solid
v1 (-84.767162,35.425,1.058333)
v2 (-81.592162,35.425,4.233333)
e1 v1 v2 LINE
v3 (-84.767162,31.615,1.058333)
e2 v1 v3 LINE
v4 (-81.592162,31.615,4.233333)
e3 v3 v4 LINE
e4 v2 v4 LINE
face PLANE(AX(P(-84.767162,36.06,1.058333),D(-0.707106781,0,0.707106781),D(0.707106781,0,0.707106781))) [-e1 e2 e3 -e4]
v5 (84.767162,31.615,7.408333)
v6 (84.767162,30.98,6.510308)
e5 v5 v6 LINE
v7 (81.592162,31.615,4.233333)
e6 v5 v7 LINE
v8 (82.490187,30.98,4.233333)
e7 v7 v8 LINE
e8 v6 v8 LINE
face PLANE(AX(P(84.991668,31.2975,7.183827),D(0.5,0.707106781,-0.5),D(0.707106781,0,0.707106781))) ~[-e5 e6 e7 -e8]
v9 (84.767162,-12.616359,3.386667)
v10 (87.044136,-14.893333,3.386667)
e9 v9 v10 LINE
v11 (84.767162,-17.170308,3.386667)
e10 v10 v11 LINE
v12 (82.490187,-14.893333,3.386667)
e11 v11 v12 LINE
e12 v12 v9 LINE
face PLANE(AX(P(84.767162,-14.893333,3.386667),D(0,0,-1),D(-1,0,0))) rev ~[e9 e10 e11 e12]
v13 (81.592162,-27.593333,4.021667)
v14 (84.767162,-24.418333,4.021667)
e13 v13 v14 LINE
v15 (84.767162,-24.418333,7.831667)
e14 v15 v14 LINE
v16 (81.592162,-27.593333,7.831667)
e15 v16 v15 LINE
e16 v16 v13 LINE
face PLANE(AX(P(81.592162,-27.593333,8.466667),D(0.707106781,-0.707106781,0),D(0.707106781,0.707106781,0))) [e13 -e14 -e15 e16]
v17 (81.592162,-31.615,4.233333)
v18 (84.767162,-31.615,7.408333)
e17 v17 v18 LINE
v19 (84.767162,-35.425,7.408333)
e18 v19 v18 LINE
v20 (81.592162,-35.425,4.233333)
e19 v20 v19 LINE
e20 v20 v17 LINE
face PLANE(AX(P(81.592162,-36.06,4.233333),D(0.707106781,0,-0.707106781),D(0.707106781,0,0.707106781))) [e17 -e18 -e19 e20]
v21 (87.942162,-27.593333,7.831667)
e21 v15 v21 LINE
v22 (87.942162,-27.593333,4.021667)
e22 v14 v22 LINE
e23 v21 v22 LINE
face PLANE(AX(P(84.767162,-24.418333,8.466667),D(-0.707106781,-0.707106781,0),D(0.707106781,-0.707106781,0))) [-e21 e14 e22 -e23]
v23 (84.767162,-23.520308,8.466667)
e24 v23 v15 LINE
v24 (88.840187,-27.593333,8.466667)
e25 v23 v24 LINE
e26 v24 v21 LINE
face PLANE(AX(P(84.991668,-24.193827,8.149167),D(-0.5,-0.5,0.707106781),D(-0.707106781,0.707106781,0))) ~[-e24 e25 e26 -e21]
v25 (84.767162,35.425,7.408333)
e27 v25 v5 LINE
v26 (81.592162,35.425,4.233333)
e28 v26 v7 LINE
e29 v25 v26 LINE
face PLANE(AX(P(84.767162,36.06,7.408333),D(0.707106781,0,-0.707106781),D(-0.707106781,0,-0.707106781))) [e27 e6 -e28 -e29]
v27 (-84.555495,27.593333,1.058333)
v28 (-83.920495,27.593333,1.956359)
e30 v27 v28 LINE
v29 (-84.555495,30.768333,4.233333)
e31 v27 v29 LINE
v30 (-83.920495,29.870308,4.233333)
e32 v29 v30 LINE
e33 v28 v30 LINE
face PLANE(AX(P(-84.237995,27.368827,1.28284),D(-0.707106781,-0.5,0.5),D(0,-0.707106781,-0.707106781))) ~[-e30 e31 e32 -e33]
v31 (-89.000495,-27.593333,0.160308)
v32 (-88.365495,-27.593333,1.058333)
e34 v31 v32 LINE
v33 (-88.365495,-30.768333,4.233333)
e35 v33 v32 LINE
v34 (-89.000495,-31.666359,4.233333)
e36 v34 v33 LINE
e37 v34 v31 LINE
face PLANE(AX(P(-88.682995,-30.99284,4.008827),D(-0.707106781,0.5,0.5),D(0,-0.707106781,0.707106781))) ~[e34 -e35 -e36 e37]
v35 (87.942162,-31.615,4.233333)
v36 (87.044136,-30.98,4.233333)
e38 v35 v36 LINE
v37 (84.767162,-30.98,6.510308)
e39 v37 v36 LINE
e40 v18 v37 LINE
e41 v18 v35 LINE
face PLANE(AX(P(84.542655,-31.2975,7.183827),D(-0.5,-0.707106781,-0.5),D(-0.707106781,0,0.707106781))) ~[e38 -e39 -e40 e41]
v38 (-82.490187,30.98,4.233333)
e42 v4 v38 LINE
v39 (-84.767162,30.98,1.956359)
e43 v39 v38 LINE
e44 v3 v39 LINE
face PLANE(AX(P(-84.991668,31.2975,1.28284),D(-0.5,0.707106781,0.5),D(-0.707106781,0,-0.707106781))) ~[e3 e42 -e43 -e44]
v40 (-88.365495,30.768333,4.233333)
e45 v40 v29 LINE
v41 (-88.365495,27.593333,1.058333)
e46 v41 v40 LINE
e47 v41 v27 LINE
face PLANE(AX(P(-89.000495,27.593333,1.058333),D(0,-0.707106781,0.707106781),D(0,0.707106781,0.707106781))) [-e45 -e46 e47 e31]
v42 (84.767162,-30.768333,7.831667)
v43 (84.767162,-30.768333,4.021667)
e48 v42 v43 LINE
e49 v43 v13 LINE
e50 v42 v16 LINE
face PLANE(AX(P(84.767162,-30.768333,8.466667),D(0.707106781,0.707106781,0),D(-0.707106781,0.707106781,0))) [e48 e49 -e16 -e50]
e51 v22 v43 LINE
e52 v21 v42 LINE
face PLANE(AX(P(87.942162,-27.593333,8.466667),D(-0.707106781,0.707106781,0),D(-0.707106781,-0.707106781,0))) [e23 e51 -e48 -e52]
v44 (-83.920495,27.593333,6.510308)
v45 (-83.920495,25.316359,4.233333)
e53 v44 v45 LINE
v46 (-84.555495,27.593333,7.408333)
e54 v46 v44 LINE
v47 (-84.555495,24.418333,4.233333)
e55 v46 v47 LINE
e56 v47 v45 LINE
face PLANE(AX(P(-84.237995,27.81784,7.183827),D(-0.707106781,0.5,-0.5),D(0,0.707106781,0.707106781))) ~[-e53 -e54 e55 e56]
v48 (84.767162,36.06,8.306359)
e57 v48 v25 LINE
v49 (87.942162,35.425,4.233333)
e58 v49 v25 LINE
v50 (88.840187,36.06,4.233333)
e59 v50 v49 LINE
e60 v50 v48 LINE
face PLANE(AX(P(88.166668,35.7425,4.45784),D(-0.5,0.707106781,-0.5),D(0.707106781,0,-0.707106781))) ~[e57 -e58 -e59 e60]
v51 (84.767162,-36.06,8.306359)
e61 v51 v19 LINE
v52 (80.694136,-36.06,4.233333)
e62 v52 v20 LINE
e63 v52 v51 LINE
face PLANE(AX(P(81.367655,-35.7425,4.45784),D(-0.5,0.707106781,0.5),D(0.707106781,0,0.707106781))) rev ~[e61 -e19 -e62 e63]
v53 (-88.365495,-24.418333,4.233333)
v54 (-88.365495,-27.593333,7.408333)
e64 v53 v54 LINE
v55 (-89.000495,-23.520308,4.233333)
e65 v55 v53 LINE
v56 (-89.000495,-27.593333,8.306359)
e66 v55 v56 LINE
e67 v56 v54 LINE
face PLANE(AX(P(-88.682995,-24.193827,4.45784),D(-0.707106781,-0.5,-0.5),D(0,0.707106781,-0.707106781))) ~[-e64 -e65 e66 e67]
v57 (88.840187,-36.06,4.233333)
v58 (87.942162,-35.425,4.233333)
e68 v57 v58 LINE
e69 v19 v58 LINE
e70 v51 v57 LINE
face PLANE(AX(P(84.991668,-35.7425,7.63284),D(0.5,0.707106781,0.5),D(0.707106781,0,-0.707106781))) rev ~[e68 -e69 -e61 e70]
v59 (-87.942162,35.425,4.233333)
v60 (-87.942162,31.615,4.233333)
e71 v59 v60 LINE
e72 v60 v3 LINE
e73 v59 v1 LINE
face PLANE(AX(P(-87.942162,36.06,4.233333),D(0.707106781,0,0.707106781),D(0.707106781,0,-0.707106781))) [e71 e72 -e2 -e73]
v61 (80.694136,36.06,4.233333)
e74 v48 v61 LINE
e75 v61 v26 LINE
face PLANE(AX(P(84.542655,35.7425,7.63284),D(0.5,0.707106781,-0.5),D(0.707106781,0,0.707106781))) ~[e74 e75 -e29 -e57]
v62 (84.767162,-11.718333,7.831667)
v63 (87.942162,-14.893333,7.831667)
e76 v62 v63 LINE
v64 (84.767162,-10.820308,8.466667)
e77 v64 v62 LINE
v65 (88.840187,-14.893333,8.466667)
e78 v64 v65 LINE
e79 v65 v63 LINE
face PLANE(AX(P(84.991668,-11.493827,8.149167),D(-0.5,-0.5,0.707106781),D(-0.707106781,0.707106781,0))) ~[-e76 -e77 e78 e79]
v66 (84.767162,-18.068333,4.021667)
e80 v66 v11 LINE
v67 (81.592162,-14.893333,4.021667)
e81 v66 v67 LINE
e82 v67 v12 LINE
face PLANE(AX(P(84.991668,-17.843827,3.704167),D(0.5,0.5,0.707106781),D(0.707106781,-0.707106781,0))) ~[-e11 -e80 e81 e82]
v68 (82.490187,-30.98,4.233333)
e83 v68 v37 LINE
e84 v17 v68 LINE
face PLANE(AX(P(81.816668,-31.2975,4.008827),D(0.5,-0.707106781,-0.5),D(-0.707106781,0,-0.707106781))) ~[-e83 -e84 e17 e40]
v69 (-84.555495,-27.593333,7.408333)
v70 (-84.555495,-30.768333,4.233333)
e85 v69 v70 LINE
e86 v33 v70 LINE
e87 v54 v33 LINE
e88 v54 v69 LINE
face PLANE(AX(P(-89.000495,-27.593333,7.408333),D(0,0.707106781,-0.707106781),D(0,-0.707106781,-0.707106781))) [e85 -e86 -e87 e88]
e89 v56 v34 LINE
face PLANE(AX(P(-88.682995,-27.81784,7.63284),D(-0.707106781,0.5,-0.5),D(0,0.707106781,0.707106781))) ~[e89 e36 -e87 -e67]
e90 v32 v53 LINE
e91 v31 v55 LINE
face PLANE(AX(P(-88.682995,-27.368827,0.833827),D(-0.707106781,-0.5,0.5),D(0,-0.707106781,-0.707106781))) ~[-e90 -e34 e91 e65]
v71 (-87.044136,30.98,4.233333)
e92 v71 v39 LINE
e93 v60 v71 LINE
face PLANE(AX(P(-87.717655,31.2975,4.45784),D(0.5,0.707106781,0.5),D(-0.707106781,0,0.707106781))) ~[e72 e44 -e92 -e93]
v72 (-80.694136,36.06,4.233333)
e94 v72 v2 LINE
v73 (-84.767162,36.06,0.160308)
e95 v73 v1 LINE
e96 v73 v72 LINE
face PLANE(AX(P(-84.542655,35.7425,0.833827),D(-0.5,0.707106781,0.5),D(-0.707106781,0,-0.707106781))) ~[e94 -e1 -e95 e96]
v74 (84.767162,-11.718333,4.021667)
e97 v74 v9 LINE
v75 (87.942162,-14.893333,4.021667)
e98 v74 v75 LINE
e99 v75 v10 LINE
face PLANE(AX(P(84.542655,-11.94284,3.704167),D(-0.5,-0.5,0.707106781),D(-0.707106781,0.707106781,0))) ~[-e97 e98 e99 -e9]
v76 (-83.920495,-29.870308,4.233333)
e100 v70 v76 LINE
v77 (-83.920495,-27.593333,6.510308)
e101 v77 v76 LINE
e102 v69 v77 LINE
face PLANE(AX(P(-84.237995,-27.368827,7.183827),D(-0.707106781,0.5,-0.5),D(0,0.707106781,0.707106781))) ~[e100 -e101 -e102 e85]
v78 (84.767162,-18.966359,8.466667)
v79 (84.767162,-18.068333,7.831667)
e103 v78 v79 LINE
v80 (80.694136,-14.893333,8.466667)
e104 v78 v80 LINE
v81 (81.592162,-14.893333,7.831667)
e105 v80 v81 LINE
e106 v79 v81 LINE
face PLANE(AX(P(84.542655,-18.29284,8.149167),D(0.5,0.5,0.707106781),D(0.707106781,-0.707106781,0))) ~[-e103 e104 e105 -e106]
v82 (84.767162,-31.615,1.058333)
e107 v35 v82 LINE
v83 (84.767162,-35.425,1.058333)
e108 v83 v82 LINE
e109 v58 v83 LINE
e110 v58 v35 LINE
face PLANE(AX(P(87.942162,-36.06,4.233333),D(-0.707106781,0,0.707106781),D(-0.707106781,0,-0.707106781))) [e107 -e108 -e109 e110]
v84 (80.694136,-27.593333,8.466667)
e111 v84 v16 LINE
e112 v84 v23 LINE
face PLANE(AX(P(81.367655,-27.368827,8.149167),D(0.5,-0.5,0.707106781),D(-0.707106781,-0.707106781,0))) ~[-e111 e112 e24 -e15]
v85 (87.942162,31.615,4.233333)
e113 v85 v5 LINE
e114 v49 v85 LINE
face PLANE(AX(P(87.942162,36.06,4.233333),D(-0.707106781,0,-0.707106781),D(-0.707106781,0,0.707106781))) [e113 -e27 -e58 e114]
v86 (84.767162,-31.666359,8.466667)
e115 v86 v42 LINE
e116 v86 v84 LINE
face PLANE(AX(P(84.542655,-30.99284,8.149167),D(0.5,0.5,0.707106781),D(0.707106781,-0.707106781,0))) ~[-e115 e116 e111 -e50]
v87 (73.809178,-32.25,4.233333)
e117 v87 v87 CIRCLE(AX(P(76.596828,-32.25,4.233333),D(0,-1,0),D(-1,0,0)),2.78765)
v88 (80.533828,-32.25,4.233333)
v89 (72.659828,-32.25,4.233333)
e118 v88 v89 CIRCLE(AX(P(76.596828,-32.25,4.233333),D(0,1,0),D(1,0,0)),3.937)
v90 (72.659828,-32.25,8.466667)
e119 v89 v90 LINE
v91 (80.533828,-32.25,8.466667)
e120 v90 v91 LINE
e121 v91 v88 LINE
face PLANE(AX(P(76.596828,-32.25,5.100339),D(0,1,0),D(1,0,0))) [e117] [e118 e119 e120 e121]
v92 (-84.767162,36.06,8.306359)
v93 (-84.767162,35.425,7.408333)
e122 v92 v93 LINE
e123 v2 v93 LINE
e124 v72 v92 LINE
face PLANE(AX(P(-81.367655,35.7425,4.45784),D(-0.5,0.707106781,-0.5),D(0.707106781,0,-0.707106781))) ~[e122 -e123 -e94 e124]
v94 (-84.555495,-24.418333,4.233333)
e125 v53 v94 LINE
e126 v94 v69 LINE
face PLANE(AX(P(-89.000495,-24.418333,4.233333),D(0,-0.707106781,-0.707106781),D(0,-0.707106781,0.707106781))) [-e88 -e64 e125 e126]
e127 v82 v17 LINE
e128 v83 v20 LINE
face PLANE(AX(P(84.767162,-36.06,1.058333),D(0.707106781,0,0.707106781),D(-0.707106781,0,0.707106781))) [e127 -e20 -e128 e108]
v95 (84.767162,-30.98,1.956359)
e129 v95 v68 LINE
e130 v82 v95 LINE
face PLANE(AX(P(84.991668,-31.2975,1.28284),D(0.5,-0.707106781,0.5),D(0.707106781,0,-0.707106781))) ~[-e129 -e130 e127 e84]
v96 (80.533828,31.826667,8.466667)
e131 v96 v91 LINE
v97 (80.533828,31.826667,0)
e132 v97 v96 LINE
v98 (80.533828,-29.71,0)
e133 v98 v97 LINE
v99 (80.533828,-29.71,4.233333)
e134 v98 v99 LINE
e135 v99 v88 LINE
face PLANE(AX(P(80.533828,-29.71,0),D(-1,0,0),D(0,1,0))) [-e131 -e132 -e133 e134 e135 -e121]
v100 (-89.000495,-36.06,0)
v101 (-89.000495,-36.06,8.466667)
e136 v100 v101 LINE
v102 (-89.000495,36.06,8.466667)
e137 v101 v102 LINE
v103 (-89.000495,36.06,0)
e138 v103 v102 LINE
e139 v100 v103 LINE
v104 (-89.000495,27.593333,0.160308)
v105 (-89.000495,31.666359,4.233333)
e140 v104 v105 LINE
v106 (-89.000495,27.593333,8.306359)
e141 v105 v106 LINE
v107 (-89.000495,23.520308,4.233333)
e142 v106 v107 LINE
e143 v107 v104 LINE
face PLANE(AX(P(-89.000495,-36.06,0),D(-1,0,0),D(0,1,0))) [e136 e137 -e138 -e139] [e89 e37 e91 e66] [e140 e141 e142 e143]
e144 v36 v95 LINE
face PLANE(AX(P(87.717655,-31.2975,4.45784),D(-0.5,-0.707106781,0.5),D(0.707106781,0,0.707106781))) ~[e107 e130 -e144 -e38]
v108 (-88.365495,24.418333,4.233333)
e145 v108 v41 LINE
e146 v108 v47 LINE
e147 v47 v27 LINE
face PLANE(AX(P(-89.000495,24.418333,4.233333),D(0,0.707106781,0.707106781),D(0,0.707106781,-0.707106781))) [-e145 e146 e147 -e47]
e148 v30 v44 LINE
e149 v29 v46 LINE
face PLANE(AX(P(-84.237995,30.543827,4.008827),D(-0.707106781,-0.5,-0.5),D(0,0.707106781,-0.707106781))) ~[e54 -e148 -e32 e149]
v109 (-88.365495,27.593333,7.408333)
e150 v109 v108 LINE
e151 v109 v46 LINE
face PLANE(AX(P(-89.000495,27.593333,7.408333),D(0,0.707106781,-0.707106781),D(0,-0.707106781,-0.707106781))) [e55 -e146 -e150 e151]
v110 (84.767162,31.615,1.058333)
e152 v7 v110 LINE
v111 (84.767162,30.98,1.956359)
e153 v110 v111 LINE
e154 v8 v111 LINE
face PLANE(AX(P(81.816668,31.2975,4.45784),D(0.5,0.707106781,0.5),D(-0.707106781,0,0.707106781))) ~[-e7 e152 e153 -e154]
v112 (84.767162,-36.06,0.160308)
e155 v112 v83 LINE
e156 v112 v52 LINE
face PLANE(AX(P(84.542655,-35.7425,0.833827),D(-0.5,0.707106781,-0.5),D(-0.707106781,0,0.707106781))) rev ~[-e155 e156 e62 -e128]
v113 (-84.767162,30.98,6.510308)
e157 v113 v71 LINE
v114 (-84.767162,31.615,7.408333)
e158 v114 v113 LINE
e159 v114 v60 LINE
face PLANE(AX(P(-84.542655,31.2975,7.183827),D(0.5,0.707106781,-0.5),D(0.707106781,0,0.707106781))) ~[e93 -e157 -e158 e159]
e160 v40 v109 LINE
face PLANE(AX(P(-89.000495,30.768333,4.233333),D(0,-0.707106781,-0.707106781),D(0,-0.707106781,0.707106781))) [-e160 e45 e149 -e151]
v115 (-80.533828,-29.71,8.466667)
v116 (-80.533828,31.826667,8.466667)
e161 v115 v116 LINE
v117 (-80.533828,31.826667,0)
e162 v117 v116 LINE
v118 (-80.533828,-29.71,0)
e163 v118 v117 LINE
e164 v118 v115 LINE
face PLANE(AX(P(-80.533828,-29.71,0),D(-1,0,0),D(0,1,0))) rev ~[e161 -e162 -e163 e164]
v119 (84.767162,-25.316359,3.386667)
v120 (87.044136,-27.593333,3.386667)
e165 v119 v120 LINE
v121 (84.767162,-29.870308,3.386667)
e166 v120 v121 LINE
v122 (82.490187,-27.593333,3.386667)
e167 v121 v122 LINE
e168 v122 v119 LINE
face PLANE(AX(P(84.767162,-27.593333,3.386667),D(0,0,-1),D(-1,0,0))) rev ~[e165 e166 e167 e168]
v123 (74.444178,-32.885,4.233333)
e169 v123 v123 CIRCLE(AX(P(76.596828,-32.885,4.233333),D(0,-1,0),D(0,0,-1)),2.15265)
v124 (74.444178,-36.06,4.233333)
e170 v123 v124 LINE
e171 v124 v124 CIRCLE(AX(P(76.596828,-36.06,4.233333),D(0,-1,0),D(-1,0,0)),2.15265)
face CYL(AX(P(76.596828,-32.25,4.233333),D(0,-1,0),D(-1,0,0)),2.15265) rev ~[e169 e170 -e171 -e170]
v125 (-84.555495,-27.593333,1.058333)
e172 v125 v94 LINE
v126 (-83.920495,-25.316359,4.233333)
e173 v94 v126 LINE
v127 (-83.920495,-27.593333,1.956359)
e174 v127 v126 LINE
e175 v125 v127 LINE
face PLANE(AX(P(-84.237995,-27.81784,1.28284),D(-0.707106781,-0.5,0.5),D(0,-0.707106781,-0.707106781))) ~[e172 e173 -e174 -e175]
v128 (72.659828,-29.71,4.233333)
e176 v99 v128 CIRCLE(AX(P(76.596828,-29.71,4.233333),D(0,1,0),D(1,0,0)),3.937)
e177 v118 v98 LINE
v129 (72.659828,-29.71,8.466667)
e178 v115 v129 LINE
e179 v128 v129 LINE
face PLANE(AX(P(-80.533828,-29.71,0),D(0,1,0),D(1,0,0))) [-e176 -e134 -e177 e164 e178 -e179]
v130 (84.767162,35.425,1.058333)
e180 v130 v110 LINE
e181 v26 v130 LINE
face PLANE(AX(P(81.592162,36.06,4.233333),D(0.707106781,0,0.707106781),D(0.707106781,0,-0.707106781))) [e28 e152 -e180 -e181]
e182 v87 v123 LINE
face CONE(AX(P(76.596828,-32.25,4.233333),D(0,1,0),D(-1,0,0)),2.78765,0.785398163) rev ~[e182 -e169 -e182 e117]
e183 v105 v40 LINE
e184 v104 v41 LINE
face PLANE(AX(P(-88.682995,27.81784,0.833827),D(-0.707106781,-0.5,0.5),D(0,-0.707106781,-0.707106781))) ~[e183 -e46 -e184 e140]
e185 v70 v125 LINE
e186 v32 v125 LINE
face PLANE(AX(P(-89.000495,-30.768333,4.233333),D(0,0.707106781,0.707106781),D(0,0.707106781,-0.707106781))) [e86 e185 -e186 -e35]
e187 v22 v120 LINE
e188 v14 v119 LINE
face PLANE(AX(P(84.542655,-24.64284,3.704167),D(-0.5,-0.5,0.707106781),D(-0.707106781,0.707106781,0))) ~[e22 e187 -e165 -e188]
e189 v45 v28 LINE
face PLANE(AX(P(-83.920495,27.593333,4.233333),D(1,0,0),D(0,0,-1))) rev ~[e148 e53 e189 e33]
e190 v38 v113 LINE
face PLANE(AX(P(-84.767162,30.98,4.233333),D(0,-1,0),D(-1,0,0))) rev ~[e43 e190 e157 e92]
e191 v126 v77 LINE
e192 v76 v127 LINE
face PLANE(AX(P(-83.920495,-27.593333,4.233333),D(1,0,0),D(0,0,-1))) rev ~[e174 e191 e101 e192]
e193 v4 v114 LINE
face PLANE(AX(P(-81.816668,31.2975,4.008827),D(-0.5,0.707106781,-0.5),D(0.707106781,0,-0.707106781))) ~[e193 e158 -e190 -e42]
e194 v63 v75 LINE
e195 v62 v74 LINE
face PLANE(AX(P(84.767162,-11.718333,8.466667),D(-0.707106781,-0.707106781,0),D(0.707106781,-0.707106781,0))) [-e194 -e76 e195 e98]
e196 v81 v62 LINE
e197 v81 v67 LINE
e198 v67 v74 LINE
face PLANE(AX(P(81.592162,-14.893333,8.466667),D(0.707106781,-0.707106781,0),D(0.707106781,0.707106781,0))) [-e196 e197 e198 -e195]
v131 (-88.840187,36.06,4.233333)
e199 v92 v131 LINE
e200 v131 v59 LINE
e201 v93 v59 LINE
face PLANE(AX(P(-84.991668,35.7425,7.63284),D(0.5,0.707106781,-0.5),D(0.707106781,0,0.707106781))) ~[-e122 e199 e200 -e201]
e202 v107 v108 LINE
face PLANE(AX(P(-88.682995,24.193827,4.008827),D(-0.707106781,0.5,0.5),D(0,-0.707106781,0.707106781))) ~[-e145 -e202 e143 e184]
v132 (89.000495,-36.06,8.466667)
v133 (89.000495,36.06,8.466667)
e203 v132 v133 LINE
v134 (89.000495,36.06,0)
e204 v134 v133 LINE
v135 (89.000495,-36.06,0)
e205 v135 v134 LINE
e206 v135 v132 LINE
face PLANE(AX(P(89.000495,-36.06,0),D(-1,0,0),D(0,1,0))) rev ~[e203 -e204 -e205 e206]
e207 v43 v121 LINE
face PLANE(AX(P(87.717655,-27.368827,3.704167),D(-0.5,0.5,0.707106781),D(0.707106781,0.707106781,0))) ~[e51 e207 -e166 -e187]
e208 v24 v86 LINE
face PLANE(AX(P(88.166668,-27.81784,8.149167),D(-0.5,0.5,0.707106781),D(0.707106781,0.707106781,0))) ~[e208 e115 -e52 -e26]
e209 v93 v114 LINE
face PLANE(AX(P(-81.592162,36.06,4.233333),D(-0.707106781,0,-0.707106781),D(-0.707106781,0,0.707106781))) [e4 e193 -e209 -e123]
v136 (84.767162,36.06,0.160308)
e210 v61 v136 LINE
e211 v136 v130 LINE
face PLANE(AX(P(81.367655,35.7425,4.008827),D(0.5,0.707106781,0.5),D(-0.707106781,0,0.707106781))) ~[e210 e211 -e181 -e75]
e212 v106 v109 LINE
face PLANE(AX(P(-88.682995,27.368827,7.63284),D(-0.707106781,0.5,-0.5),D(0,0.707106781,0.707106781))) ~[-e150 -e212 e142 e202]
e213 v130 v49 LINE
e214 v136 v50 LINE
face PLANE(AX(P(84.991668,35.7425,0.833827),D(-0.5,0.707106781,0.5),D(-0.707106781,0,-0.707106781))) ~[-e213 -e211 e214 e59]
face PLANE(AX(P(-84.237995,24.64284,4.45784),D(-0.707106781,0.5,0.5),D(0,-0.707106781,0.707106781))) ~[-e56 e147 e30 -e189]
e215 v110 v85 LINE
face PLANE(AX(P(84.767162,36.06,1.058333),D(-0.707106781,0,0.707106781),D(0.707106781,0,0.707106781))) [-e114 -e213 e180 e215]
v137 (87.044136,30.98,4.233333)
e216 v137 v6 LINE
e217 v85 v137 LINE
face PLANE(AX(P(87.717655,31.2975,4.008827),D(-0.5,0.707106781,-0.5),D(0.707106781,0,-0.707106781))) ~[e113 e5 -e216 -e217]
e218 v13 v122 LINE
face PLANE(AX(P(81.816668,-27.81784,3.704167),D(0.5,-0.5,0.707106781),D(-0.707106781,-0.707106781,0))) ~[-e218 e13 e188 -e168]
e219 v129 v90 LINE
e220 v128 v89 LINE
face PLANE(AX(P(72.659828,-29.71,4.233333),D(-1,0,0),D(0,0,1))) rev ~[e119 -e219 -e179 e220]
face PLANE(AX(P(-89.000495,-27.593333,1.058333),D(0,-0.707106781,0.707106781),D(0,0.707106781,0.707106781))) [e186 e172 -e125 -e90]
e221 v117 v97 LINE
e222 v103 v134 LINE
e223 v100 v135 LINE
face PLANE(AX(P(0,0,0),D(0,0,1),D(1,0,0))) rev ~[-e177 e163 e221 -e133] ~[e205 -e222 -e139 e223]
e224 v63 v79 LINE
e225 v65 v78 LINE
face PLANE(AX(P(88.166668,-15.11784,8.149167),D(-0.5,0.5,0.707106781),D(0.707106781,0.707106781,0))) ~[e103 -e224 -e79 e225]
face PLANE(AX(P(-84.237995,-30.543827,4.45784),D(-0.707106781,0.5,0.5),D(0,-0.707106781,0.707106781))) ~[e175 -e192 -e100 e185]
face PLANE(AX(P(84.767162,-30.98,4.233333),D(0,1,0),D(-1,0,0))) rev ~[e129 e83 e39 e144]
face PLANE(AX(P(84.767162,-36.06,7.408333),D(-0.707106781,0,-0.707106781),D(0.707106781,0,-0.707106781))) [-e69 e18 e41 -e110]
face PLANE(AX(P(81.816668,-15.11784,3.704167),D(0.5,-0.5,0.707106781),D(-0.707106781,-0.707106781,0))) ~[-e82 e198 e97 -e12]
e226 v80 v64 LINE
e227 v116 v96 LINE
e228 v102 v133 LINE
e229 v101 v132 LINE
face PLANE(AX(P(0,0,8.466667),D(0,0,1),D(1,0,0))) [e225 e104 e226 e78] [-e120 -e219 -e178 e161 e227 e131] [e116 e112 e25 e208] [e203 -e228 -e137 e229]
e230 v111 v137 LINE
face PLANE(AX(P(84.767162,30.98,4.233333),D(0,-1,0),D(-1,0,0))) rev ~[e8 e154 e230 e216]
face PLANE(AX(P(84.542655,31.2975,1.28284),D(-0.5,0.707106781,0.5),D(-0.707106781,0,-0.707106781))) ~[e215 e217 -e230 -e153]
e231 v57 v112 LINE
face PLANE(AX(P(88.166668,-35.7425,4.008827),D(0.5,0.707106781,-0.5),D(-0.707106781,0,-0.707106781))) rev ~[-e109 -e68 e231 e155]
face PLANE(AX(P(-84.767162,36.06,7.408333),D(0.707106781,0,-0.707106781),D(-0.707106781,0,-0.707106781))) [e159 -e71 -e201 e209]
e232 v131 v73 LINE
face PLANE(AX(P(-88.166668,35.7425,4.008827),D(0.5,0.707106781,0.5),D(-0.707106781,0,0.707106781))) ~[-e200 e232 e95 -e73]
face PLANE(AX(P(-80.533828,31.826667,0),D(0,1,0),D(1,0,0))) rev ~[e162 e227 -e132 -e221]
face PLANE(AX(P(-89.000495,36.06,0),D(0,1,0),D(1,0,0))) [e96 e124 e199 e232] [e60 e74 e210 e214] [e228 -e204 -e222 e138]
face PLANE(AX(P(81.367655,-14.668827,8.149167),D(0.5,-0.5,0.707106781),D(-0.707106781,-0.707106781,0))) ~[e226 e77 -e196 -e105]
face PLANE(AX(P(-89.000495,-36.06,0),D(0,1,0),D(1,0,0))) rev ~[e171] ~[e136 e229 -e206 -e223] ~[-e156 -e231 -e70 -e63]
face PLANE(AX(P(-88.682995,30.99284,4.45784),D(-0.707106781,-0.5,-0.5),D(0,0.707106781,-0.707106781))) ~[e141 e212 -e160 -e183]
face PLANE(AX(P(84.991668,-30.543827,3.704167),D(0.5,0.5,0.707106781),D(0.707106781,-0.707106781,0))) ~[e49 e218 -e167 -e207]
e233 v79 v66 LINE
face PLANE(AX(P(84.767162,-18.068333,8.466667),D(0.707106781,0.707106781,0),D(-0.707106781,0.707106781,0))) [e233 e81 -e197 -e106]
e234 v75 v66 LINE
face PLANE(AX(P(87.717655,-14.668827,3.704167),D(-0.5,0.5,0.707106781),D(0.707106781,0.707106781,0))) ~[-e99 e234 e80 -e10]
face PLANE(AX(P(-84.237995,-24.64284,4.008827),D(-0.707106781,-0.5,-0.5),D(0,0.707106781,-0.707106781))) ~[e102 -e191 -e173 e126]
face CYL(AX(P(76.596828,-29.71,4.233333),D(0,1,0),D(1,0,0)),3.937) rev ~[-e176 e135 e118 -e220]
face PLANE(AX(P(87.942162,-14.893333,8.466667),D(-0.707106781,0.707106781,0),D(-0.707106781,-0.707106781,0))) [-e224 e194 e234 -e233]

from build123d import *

# Parameters (mm, degrees)
SKETCH1_W                              = 178.0009902
SKETCH1_H                              = 72.120000116
SKETCH1_W_2                            = 161.067656866
SKETCH1_H_2                            = 61.536666783
BOSS_EXTRUDE1_DEPTH                    = 8.466666667
CUT_EXTRUDE1_DEPTH                     = 5.08
CUT_EXTRUDE2_DEPTH                     = 5.08
CUT_EXTRUDE3_DEPTH                     = 5.08
CUT_EXTRUDE4_DEPTH                     = 5.08
CHAMFER1_SIZE                          = 0.635
CUT_EXTRUDE5_DEPTH                     = 2.54
F_18_0_1695_DIAMETER_HOLE1_D           = 4.3053
F_18_0_1695_DIAMETER_HOLE1_DEPTH       = 3.81
F_18_0_1695_DIAMETER_HOLE1_CSINK_D     = 5.5753
F_18_0_1695_DIAMETER_HOLE1_CSINK_ANGLE = 90


with BuildPart() as part:
    # Sketch1 → Boss-Extrude1 (new body)
    with BuildSketch(Plane.XY):
        Rectangle(SKETCH1_W, SKETCH1_H)
        with Locations((0, 1.058333334)):
            Rectangle(SKETCH1_W_2, SKETCH1_H_2, mode=Mode.SUBTRACT)
    extrude(amount=BOSS_EXTRUDE1_DEPTH)

    # Sketch2 → Cut-Extrude1 (cut)
    with BuildSketch(Plane(origin=(0, 36.060000058, 0), x_dir=(1, 0, 0), z_dir=(0, 1, 0))):
        Polygon((-87.942161767, -4.233333333), (-84.767161767, -1.058333333), (-81.592161767, -4.233333333), (-84.767161767, -7.408333333), align=None)
        Polygon((81.592161767, -4.233333333), (84.767161767, -1.058333333), (87.942161767, -4.233333333), (84.767161767, -7.408333333), align=None)
    extrude(amount=-CUT_EXTRUDE1_DEPTH, mode=Mode.SUBTRACT)

    # Sketch3 → Cut-Extrude2 (cut)
    with BuildSketch(Plane.XY.offset(8.466666667)):
        Polygon((81.592161767, -27.593333392), (84.767161767, -24.418333392), (87.942161767, -27.593333392), (84.767161767, -30.768333392), align=None)
        Polygon((84.767161767, -11.718333392), (87.942161767, -14.893333392), (84.767161767, -18.068333392), (81.592161767, -14.893333392), align=None)
    extrude(amount=-CUT_EXTRUDE2_DEPTH, mode=Mode.SUBTRACT)

    # Sketch4 → Cut-Extrude3 (cut)
    with BuildSketch(Plane.ZY.offset(89.0004951)):
        Polygon((1.058333333, 27.593333392), (4.233333333, 30.768333392), (7.408333333, 27.593333392), (4.233333333, 24.418333392), align=None)
        Polygon((1.058333333, -27.593333392), (4.233333333, -24.418333392), (7.408333333, -27.593333392), (4.233333333, -30.768333392), align=None)
    extrude(amount=-CUT_EXTRUDE3_DEPTH, mode=Mode.SUBTRACT)

    # Sketch5 → Cut-Extrude4 (cut)
    with BuildSketch(Plane.XZ.offset(36.060000058)):
        Polygon((81.592161767, 4.233333333), (84.767161767, 7.408333333), (87.942161767, 4.233333333), (84.767161767, 1.058333333), align=None)
    extrude(amount=-CUT_EXTRUDE4_DEPTH, mode=Mode.SUBTRACT)

    # Chamfer1
    chamfer1_edges = [part.edges().sort_by_distance(p)[0] for p in [
        (83.179661767, -30.980000058, 2.645833333),
        (83.179661767, -30.980000058, 5.820833333),
        (86.354661767, -30.980000058, 5.820833333),
        (86.354661767, -30.980000058, 2.645833333),
        (83.179661767, -36.060000058, 2.645833333),
        (86.354661767, -36.060000058, 2.645833333),
        (86.354661767, -36.060000058, 5.820833333),
        (83.179661767, -36.060000058, 5.820833333),
        (-86.354661767, 30.980000058, 5.820833333),
        (-86.354661767, 30.980000058, 2.645833333),
        (-83.179661767, 30.980000058, 2.645833333),
        (-83.179661767, 30.980000058, 5.820833333),
        (-86.354661767, 36.060000058, 5.820833333),
        (-83.179661767, 36.060000058, 5.820833333),
        (-83.179661767, 36.060000058, 2.645833333),
        (-86.354661767, 36.060000058, 2.645833333),
        (83.179661767, 30.980000058, 5.820833333),
        (83.179661767, 30.980000058, 2.645833333),
        (86.354661767, 30.980000058, 2.645833333),
        (86.354661767, 30.980000058, 5.820833333),
        (83.179661767, 36.060000058, 5.820833333),
        (86.354661767, 36.060000058, 5.820833333),
        (86.354661767, 36.060000058, 2.645833333),
        (83.179661767, 36.060000058, 2.645833333),
        (83.179661767, -29.180833392, 3.386666667),
        (83.179661767, -26.005833392, 3.386666667),
        (86.354661767, -26.005833392, 3.386666667),
        (86.354661767, -29.180833392, 3.386666667),
        (83.179661767, -29.180833392, 8.466666667),
        (86.354661767, -29.180833392, 8.466666667),
        (86.354661767, -26.005833392, 8.466666667),
        (83.179661767, -26.005833392, 8.466666667),
        (83.179661767, -13.305833392, 3.386666667),
        (86.354661767, -13.305833392, 3.386666667),
        (86.354661767, -16.480833392, 3.386666667),
        (83.179661767, -16.480833392, 3.386666667),
        (83.179661767, -13.305833392, 8.466666667),
        (83.179661767, -16.480833392, 8.466666667),
        (86.354661767, -16.480833392, 8.466666667),
        (86.354661767, -13.305833392, 8.466666667),
        (-83.9204951, 26.005833392, 2.645833333),
        (-83.9204951, 29.180833392, 2.645833333),
        (-83.9204951, 29.180833392, 5.820833333),
        (-83.9204951, 26.005833392, 5.820833333),
        (-89.0004951, 26.005833392, 2.645833333),
        (-89.0004951, 26.005833392, 5.820833333),
        (-89.0004951, 29.180833392, 5.820833333),
        (-89.0004951, 29.180833392, 2.645833333),
        (-83.9204951, -29.180833392, 2.645833333),
        (-83.9204951, -26.005833392, 2.645833333),
        (-83.9204951, -26.005833392, 5.820833333),
        (-83.9204951, -29.180833392, 5.820833333),
        (-89.0004951, -29.180833392, 2.645833333),
        (-89.0004951, -29.180833392, 5.820833333),
        (-89.0004951, -26.005833392, 5.820833333),
        (-89.0004951, -26.005833392, 2.645833333),
    ]]
    chamfer(chamfer1_edges, length=CHAMFER1_SIZE)

    # Sketch6 → Cut-Extrude5 (cut)
    with BuildSketch(Plane(origin=(0, -29.710000058, 0), x_dir=(1, 0, 0), z_dir=(0, 1, 0))):
        with BuildLine():
            Line((72.659828433, -4.233333249), (72.659828433, -8.466666667))
            Line((72.659828433, -8.466666667), (80.533828433, -8.466666667))
            Line((80.533828433, -8.466666667), (80.533828433, -4.233333249))
            ThreePointArc((80.533828433, -4.233333249), (76.596828433, -0.296333249), (72.659828433, -4.233333249))
        make_face()
    extrude(amount=-CUT_EXTRUDE5_DEPTH, mode=Mode.SUBTRACT)

    # #18 (0.1695) Diameter Hole1
    with Locations(Plane(origin=(0, -32.250000058, 0), x_dir=(1, 0, 0), z_dir=(0, 1, 0))):
        with Locations((76.596828433, -4.233333249)):
            CounterSinkHole(F_18_0_1695_DIAMETER_HOLE1_D / 2, F_18_0_1695_DIAMETER_HOLE1_CSINK_D / 2, depth=F_18_0_1695_DIAMETER_HOLE1_DEPTH, counter_sink_angle=F_18_0_1695_DIAMETER_HOLE1_CSINK_ANGLE)


solid = part.part
